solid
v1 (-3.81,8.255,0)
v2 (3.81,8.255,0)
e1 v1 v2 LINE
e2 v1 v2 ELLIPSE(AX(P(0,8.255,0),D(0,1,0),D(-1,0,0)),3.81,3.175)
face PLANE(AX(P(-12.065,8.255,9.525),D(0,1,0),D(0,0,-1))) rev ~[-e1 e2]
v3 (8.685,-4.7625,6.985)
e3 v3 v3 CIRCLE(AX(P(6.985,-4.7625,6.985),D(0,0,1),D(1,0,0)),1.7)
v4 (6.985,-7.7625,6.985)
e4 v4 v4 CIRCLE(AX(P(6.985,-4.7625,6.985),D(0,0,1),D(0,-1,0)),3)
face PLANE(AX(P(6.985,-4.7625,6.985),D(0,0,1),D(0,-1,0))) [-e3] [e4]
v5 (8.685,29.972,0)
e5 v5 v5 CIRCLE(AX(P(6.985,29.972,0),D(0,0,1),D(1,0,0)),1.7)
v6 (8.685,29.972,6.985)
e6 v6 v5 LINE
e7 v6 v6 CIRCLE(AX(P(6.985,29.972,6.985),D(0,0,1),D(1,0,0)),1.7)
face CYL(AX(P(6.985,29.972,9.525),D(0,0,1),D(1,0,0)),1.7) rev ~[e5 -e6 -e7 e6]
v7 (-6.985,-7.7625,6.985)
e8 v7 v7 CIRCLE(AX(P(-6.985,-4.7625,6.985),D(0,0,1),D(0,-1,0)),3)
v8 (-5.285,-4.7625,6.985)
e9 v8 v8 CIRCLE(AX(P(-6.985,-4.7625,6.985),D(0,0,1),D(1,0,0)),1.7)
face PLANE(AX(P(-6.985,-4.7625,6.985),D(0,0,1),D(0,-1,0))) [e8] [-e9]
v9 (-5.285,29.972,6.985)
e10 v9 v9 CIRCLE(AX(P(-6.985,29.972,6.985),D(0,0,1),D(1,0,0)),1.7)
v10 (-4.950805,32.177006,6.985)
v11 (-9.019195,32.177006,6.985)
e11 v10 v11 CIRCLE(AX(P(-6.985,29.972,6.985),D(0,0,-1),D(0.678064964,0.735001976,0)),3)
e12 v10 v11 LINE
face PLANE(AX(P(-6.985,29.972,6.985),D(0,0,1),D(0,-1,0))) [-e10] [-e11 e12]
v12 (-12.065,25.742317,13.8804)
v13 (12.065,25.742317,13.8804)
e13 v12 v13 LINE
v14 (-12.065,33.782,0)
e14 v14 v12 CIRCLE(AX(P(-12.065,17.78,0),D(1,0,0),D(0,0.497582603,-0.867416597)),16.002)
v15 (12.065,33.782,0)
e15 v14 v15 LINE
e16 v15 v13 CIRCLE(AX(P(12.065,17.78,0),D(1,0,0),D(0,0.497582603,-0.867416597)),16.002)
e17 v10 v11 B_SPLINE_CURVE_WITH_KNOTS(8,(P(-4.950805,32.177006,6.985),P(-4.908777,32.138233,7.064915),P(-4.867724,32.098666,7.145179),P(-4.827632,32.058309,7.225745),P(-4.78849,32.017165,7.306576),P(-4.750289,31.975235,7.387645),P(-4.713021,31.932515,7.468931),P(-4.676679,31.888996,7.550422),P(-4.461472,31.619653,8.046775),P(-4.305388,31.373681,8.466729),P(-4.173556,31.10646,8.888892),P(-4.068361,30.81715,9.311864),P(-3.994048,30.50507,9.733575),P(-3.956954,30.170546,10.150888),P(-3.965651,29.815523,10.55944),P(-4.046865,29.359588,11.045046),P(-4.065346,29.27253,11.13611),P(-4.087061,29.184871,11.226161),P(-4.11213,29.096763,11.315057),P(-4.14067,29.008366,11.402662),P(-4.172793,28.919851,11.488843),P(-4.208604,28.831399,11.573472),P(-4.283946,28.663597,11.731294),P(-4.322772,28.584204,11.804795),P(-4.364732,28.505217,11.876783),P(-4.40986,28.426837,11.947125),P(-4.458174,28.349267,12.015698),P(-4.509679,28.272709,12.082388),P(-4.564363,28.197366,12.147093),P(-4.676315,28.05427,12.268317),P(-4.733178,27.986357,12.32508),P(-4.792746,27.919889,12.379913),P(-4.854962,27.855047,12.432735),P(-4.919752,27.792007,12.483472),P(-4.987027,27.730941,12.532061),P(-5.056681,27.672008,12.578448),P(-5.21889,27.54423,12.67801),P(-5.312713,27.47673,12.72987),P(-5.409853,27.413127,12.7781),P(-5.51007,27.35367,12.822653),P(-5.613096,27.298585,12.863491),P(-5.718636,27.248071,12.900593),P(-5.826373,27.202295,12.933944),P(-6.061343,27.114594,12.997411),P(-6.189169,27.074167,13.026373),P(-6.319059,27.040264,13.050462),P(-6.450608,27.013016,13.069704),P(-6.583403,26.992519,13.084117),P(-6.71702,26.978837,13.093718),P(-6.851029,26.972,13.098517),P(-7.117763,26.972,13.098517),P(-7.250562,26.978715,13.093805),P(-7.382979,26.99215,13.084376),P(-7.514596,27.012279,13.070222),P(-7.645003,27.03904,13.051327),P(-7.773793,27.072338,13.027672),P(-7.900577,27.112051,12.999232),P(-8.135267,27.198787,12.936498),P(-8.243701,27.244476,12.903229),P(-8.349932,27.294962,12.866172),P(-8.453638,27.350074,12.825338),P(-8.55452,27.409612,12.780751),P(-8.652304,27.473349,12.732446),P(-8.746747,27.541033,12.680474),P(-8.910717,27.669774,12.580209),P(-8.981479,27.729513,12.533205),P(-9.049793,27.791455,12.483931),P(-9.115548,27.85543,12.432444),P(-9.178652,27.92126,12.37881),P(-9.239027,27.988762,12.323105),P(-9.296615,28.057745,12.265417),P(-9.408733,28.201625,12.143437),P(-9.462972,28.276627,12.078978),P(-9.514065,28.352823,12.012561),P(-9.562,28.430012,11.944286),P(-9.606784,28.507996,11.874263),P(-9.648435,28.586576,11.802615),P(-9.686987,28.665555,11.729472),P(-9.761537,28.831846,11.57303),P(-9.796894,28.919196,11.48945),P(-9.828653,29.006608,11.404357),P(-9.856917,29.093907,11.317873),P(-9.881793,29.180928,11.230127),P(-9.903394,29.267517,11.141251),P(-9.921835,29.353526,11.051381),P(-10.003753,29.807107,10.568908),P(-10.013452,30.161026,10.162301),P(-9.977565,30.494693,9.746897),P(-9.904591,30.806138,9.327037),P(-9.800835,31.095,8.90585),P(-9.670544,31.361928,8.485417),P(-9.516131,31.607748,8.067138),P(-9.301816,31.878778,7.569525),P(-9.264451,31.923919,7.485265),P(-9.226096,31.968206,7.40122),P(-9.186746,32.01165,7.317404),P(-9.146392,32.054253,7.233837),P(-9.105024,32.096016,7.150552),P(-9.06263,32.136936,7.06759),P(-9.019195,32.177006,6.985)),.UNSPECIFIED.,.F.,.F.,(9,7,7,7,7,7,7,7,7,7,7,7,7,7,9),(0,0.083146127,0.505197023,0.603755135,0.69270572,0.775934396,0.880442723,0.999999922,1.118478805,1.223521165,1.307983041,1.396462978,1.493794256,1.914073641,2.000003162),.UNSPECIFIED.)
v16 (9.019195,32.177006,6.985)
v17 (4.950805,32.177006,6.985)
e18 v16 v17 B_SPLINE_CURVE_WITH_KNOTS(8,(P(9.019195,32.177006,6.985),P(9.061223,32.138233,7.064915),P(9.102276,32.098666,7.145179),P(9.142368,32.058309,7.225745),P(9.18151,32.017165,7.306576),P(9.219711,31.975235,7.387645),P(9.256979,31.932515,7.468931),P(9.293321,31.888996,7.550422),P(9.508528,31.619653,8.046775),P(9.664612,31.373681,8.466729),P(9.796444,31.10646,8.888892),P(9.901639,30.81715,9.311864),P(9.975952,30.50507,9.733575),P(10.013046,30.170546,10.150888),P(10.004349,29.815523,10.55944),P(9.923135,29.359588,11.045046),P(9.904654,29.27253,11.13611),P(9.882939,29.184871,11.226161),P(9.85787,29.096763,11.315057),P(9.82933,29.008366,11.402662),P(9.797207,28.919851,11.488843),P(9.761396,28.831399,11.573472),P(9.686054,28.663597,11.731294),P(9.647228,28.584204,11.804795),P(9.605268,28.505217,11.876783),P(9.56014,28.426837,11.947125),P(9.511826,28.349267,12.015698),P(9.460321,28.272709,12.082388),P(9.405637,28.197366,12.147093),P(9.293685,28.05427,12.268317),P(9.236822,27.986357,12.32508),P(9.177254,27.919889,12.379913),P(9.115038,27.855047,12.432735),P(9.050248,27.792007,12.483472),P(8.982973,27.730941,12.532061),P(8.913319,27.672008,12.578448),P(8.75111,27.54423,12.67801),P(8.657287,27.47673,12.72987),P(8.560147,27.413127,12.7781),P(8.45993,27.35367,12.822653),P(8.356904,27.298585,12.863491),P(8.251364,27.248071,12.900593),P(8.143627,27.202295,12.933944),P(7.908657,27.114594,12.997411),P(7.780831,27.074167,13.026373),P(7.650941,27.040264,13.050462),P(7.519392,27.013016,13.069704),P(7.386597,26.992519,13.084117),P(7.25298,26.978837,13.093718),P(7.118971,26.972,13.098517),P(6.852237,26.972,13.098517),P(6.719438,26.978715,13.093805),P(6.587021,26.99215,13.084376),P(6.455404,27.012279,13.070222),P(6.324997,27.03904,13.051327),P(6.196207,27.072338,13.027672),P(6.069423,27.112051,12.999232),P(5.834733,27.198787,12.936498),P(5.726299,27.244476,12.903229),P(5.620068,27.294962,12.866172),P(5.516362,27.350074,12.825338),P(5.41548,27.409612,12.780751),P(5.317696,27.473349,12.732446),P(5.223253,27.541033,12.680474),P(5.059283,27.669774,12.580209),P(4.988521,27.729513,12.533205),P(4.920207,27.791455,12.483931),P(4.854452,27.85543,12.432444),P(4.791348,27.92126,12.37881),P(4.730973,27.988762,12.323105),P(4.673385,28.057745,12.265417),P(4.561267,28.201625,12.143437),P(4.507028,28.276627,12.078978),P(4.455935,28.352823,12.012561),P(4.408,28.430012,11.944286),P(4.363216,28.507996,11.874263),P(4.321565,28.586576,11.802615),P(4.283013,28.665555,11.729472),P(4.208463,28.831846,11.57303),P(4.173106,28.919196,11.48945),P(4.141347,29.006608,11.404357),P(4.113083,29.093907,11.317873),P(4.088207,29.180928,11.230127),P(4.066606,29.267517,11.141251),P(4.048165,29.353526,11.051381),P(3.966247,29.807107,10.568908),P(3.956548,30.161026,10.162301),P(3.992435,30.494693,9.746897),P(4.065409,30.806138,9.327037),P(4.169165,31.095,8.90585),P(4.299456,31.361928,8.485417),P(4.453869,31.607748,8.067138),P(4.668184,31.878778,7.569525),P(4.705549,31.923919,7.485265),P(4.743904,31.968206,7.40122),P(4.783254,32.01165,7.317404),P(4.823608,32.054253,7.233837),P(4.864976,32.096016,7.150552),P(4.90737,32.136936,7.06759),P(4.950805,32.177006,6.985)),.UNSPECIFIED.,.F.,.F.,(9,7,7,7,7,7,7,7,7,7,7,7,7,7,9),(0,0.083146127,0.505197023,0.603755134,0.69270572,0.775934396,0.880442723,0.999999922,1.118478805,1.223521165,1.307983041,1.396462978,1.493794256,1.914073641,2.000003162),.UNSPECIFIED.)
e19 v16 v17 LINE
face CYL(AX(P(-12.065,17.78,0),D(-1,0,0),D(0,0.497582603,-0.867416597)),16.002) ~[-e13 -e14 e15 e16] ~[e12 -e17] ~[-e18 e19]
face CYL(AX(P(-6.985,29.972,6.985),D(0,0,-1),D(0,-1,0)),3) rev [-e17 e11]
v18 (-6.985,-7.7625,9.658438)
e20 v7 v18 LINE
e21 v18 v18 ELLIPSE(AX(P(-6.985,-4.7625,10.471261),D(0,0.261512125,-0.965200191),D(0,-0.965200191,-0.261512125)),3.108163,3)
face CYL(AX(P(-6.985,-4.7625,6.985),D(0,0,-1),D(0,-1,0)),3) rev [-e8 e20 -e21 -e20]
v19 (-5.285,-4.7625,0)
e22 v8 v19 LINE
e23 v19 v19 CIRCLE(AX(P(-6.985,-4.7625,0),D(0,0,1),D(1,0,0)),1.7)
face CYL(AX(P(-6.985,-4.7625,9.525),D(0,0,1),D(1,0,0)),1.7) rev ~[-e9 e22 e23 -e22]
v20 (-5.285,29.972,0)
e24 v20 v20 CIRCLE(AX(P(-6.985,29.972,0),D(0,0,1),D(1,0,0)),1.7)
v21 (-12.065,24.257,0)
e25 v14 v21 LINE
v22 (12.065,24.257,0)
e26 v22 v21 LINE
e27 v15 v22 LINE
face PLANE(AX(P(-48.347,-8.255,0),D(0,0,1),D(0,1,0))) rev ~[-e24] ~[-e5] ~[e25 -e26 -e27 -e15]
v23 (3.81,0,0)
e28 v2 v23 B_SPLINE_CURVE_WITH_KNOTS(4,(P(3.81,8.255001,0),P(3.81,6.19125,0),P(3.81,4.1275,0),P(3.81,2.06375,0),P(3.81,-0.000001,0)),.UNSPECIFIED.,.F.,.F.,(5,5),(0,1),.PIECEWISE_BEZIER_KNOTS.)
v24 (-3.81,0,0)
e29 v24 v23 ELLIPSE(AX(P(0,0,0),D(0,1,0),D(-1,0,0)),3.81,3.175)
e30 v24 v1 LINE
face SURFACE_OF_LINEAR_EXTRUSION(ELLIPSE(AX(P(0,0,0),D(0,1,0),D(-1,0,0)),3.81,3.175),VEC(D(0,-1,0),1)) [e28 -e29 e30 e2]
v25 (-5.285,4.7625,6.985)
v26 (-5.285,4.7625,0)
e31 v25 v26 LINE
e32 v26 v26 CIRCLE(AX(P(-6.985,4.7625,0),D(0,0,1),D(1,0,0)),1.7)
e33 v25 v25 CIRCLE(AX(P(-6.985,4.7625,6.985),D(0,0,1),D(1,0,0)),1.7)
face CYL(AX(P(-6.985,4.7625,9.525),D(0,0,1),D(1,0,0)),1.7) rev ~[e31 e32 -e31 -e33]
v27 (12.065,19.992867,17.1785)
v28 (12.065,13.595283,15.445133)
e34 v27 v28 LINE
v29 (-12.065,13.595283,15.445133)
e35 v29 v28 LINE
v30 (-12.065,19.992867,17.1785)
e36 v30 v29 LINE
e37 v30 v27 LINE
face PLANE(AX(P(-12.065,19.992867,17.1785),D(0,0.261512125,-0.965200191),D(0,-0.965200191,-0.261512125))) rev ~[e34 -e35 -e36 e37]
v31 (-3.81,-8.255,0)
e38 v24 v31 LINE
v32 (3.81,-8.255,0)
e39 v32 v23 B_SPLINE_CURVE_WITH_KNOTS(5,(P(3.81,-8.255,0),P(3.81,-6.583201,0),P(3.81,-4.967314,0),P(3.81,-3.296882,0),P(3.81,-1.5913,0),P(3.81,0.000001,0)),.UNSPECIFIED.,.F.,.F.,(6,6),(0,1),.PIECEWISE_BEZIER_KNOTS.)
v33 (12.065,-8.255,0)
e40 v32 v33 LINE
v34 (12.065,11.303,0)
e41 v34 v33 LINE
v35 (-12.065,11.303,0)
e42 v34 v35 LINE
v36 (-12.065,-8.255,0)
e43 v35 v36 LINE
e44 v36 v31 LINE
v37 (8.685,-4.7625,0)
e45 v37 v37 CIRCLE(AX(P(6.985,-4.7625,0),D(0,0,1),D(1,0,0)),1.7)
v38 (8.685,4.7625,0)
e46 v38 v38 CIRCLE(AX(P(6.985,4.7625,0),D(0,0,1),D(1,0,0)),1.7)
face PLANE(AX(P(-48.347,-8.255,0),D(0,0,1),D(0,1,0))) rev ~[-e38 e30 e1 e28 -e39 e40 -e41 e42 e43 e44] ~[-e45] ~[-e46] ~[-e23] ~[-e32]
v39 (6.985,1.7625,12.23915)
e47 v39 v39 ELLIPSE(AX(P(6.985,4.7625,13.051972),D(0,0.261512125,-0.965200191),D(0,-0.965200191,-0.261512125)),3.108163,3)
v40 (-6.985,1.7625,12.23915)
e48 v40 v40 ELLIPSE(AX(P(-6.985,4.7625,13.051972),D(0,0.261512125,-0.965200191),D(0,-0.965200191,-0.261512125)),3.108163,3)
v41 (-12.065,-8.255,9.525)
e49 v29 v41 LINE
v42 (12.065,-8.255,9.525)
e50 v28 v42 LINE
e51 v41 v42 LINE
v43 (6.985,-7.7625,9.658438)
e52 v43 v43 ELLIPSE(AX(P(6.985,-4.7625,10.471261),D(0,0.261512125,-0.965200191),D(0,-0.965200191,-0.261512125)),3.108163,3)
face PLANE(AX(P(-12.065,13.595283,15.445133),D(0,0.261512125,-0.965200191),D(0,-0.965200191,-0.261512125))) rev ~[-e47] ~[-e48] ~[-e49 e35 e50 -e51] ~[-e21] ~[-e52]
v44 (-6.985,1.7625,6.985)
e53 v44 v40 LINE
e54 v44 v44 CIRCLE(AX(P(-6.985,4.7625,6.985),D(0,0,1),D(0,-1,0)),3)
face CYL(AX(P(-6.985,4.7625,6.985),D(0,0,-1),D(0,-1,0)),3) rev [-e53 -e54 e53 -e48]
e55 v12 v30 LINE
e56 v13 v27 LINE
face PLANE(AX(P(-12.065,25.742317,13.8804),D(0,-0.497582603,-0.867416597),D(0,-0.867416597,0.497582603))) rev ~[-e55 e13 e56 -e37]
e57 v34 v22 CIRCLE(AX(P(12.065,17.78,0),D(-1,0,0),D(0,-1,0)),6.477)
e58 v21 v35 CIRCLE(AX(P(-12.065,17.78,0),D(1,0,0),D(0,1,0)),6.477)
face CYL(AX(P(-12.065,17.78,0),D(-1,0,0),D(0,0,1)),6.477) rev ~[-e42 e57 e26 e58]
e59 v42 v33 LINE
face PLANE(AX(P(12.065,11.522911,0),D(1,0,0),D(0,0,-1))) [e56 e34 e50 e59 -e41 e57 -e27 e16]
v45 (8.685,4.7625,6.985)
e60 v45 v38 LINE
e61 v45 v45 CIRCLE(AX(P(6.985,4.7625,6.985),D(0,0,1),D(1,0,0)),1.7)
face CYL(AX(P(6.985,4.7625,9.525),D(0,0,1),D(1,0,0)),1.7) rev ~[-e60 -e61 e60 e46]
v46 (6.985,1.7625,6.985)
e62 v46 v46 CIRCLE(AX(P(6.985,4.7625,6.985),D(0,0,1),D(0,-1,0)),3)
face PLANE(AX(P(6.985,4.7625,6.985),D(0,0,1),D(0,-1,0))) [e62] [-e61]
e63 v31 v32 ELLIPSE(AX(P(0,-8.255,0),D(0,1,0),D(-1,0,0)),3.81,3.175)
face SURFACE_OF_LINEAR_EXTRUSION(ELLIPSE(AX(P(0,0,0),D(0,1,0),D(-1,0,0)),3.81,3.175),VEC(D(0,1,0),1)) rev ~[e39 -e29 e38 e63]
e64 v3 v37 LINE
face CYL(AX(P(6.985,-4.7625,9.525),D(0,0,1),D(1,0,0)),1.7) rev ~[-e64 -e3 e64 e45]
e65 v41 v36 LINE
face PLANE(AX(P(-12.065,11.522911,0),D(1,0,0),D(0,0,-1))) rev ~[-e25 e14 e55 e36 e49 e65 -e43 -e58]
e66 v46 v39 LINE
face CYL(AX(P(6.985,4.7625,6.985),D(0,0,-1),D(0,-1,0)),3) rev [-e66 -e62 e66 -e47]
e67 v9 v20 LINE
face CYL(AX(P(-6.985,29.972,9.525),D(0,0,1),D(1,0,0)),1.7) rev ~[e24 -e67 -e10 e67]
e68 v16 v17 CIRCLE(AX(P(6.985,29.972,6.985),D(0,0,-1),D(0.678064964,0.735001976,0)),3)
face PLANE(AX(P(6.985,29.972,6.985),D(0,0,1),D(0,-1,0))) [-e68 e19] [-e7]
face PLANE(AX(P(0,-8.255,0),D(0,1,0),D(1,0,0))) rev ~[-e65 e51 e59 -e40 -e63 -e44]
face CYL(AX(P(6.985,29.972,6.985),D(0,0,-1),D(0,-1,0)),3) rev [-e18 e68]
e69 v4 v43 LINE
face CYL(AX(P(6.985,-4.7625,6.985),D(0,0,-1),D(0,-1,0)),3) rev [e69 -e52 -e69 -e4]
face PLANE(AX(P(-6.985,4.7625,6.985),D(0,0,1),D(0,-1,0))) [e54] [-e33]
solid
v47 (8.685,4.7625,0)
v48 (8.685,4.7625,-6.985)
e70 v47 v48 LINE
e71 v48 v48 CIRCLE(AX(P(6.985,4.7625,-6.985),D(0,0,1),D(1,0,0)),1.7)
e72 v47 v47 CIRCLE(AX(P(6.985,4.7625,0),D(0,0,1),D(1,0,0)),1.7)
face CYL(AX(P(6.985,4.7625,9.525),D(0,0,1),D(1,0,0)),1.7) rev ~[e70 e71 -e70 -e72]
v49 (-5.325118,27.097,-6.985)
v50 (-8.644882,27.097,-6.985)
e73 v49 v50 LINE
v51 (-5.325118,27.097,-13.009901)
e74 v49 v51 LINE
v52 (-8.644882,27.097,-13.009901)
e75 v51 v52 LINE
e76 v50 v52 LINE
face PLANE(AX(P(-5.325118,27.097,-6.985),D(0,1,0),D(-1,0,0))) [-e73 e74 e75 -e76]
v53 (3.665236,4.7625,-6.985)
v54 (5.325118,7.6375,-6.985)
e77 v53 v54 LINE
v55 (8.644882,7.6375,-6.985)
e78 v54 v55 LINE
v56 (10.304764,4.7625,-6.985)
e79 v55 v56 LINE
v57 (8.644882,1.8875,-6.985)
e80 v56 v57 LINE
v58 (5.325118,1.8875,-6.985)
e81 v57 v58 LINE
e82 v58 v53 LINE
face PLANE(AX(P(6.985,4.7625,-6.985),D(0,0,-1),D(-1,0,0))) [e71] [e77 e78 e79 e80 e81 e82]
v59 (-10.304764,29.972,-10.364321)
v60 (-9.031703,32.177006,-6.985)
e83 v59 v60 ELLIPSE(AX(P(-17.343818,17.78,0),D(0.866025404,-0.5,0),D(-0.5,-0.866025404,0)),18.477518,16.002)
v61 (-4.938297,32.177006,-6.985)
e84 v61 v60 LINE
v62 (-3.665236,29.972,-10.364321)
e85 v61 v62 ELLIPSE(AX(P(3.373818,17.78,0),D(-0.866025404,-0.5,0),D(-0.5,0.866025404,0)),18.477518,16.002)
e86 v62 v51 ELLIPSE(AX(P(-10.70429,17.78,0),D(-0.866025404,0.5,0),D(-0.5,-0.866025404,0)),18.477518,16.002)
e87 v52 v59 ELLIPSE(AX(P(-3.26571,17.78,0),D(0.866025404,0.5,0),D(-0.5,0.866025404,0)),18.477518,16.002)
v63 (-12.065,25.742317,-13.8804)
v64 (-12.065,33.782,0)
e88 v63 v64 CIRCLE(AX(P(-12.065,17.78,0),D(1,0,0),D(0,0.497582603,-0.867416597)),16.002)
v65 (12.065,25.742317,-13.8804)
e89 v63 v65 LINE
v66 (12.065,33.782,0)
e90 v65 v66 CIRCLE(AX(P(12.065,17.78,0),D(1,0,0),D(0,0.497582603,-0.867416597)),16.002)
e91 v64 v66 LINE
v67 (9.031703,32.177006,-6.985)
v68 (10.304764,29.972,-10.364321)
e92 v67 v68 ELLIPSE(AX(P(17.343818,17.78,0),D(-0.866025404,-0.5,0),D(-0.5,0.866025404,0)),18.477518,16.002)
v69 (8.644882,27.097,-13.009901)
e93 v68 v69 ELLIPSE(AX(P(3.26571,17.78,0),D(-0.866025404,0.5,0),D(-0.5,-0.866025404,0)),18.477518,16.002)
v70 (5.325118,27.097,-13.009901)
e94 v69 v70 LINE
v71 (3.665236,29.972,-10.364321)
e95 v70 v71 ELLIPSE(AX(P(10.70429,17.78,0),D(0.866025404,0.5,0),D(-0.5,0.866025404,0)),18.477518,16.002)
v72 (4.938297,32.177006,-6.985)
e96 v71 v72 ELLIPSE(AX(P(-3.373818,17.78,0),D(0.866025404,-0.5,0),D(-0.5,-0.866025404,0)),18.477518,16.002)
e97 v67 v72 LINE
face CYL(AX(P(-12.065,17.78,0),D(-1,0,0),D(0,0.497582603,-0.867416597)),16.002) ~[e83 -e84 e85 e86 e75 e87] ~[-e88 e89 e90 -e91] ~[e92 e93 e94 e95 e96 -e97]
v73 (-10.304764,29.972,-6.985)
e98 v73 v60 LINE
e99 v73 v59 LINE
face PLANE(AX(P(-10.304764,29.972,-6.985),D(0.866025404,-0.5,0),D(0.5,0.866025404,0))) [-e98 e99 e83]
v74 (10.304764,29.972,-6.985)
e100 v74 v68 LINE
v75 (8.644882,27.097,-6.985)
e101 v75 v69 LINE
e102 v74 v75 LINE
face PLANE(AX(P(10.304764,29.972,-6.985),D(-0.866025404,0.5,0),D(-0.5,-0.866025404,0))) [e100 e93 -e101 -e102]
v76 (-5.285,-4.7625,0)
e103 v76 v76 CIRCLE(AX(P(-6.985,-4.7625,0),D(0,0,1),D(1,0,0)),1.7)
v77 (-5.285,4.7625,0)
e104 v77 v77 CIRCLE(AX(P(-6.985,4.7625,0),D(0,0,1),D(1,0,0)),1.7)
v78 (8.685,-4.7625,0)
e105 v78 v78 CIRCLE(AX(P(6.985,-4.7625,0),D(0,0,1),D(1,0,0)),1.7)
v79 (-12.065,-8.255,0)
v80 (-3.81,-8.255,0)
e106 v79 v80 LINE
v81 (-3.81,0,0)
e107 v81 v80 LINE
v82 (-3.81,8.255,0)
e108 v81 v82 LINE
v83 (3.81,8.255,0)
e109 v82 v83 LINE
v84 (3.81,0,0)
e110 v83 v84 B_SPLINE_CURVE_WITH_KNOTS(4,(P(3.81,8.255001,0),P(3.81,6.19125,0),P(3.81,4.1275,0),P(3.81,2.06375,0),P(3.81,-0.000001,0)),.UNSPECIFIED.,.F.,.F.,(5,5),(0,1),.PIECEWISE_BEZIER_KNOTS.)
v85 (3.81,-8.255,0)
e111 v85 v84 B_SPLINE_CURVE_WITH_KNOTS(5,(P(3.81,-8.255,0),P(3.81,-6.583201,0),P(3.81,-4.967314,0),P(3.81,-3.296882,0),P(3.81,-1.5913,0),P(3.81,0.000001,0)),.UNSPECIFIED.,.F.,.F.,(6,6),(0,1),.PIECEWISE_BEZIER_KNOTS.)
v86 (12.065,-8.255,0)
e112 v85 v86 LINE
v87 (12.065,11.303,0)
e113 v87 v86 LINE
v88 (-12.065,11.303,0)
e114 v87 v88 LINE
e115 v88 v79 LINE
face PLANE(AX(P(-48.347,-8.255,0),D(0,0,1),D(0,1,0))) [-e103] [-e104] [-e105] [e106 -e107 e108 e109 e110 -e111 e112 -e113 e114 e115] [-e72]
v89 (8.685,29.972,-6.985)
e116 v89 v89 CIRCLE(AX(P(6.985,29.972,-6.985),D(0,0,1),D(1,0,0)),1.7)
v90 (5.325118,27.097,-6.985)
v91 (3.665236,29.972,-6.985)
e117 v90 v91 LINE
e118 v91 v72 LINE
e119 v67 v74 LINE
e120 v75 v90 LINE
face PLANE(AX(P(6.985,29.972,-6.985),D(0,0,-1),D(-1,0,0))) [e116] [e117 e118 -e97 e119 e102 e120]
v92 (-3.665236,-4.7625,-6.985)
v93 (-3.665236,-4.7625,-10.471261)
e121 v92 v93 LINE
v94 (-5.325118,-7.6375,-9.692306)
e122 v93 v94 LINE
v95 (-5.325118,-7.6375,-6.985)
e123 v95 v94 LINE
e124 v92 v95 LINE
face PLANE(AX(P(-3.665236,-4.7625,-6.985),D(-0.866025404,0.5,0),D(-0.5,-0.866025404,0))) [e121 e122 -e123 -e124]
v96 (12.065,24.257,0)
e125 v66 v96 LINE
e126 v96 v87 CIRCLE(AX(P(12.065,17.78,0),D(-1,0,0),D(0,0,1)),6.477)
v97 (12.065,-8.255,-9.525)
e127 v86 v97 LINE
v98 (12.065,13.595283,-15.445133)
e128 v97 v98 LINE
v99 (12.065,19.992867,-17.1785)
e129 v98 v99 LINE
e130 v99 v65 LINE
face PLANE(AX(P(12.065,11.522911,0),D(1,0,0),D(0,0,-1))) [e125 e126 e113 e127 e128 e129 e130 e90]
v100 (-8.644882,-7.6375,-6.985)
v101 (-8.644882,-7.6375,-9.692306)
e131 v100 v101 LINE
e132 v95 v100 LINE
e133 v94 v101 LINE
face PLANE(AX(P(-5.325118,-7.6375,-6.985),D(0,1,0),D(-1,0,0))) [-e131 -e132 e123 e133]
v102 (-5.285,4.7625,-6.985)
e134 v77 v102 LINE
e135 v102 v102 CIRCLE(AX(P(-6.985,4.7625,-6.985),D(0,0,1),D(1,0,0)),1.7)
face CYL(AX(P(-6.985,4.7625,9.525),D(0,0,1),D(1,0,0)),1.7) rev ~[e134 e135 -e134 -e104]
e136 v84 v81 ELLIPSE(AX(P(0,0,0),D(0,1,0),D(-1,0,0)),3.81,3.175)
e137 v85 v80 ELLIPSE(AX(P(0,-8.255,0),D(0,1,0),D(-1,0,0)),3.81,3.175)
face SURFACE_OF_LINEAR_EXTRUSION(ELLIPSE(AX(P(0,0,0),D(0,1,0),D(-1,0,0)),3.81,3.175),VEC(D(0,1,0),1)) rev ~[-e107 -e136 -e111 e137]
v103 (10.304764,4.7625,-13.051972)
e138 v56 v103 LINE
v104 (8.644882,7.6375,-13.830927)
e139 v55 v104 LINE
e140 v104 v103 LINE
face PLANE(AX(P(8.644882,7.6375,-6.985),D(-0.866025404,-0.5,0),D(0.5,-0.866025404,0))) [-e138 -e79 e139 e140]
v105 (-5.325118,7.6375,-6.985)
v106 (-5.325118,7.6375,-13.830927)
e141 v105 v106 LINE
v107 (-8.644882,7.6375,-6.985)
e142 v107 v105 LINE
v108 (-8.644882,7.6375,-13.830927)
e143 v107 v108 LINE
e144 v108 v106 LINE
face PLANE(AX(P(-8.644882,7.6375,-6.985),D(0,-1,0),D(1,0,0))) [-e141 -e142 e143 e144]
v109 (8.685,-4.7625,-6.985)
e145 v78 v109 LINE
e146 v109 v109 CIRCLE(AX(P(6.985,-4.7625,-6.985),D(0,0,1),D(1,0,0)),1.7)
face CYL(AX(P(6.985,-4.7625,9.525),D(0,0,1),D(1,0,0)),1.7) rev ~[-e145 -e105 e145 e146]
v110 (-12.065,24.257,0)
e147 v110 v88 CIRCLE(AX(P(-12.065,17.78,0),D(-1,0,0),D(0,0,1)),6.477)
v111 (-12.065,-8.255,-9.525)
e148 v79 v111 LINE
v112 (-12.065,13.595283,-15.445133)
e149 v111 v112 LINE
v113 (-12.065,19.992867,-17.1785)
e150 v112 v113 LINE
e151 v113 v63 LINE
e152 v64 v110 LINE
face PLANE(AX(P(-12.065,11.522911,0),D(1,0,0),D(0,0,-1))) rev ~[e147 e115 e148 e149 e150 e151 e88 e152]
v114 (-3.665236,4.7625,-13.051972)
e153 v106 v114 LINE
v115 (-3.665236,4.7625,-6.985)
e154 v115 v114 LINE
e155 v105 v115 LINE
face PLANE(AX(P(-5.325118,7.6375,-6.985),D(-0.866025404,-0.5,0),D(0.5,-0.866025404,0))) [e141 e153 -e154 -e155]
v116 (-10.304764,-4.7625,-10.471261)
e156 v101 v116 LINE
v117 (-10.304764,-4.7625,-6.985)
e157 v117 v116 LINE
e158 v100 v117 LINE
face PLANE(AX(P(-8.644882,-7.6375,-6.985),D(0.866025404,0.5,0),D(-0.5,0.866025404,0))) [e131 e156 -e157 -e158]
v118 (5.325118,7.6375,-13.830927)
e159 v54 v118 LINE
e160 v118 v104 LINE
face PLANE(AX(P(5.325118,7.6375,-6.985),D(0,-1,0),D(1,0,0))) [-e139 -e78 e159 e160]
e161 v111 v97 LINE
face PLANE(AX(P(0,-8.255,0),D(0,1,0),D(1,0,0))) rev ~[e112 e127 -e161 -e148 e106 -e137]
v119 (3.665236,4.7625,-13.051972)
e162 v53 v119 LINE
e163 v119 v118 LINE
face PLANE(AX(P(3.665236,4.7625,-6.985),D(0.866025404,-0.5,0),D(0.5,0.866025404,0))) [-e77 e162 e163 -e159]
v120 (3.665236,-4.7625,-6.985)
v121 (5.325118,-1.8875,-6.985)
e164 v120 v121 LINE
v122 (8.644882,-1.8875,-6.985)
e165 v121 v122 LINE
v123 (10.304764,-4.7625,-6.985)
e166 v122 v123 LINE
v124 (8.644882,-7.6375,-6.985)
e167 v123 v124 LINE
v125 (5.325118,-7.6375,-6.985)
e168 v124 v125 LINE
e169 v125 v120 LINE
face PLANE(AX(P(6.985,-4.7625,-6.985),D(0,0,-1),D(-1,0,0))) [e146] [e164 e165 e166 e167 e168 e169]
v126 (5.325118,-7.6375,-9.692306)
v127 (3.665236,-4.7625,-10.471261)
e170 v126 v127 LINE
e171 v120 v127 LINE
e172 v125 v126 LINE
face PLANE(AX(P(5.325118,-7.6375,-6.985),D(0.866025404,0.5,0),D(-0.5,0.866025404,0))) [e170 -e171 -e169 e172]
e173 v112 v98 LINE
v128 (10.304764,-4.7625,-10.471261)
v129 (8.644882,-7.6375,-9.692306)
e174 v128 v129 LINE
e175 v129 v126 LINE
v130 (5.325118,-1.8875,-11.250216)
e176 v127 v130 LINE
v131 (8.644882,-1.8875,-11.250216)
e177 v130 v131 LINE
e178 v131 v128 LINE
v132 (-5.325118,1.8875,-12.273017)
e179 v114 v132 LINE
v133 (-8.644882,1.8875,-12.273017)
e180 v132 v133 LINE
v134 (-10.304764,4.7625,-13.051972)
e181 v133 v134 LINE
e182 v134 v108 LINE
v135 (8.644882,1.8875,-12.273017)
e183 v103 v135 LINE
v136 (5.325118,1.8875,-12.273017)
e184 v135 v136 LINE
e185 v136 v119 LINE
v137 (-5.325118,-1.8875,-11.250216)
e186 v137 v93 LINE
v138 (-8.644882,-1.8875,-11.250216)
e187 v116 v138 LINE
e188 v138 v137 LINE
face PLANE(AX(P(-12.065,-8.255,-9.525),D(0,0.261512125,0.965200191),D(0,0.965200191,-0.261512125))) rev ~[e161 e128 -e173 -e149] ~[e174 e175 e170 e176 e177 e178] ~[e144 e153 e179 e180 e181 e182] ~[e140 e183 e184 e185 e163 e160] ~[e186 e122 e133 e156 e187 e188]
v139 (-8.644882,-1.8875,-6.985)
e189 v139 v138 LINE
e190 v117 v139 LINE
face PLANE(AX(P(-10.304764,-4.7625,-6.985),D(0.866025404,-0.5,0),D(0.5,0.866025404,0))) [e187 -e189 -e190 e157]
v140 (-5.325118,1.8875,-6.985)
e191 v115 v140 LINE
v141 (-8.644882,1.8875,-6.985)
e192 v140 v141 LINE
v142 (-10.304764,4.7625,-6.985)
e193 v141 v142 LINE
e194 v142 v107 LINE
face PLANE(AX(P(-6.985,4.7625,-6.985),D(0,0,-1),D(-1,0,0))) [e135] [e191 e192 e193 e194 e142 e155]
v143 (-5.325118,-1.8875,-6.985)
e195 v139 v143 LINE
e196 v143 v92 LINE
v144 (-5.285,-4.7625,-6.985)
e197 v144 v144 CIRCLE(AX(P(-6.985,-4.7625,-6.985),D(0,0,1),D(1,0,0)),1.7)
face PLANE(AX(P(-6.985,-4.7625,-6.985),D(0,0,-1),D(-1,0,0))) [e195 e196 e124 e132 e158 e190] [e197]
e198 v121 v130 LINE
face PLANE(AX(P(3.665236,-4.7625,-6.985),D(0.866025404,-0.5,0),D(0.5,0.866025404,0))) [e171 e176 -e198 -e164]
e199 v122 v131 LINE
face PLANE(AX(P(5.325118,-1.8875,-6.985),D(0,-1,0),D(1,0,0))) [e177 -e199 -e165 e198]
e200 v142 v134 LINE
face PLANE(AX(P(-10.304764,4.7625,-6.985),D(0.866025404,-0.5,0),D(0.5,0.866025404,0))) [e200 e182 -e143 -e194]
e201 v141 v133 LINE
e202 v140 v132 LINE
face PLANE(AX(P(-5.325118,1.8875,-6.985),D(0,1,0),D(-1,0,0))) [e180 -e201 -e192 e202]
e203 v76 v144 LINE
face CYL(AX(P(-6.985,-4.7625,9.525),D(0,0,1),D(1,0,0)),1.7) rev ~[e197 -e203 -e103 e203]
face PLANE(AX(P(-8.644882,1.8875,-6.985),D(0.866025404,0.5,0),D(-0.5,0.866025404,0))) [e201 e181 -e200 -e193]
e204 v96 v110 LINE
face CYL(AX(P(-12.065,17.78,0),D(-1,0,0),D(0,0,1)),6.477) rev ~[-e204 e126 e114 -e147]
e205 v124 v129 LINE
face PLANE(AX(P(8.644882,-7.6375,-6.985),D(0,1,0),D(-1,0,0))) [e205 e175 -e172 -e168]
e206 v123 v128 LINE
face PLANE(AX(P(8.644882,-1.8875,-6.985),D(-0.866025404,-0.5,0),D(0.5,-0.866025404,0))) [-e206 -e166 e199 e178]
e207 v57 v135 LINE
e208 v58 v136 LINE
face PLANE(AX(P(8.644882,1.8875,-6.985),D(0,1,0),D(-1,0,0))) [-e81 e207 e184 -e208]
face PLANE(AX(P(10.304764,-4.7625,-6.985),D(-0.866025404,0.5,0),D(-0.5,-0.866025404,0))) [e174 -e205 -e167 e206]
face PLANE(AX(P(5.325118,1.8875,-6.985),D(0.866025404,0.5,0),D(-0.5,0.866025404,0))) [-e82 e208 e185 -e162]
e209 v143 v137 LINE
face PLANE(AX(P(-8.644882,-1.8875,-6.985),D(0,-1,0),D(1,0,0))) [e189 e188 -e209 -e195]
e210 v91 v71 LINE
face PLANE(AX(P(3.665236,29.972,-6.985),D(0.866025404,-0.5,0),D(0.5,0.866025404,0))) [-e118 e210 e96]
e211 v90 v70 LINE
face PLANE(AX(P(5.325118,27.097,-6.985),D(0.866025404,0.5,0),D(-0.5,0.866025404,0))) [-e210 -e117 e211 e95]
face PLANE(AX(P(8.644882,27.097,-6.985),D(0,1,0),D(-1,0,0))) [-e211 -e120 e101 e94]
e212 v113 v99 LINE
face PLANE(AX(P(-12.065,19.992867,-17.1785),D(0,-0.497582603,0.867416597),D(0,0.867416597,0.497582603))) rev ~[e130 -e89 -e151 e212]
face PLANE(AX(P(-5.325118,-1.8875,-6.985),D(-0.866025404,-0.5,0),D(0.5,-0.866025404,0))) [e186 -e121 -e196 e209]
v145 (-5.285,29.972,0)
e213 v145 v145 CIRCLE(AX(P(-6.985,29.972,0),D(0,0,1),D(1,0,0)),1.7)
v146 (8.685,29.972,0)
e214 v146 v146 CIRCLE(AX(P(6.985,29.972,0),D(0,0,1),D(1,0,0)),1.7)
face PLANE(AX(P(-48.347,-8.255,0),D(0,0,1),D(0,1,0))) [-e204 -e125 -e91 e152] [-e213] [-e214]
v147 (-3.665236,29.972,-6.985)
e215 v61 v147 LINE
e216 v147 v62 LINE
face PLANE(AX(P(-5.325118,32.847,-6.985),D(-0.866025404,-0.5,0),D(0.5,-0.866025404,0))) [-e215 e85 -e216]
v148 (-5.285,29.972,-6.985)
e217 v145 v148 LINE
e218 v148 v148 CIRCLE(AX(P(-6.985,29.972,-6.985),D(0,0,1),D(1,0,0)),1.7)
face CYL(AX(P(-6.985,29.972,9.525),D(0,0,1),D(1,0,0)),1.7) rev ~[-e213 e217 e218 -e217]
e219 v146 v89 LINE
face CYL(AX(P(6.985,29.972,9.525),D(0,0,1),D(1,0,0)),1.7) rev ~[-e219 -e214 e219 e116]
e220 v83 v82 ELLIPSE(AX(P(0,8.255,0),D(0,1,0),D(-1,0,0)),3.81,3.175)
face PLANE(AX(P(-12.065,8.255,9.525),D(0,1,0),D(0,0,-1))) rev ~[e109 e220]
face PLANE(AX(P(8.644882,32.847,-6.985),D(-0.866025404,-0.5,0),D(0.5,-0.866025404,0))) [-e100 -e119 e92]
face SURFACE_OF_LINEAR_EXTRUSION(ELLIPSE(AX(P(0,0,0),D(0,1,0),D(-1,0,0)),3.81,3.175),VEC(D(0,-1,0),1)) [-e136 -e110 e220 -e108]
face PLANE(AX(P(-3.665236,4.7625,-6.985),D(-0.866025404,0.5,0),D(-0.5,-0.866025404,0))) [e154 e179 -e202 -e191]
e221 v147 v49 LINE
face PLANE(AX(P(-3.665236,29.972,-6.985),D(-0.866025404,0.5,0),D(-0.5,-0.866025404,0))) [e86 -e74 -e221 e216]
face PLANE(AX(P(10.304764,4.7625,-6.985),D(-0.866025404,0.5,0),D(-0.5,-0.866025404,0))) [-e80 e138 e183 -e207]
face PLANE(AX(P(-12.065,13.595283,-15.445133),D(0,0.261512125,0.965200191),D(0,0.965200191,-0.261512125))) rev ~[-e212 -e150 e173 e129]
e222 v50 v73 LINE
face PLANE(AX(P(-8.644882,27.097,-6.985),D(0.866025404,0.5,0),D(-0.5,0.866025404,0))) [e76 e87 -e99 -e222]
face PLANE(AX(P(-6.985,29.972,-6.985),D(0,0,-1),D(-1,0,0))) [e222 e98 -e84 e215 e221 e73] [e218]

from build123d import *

# Parameters (mm, degrees)
SKETCH1_W              = 24.13
SKETCH1_H              = 19.05
SKETCH1_RX             = 3.81
SKETCH1_RY             = 3.175
BOSS_EXTRUDE1_DEPTH    = 8.255
SKETCH18_R             = 6.477
BOSS_EXTRUDE6_DEPTH    = 24.13
SKETCH4_R              = 1.7
CUT_EXTRUDE1_DEPTH     = 45.719846392
CUT_EXTRUDE4_START     = -2.54
SKETCH13_R             = 2.999999969
CUT_EXTRUDE4_DEPTH     = 48.259846392
CUT_EXTRUDE6_START     = -2.54
CUT_EXTRUDE6_DEPTH     = 48.259846392
SPLIT1_SURFACE_1_BACK  = 60.412
SPLIT1_SURFACE_1_DEPTH = 120.824
SPLIT1_SURFACE_2_BACK  = 60.412
SPLIT1_SURFACE_2_DEPTH = 120.824


with BuildPart() as part:
    # Sketch1 → Boss-Extrude1 (new, symmetric)
    with BuildSketch(Plane(origin=(0, 0, 0), x_dir=(1, 0, 0), z_dir=(0, 1, 0))):
        Rectangle(SKETCH1_W, SKETCH1_H)
        with Locations(Location((0, 0), (0, 0, 180))):
            Ellipse(SKETCH1_RX, SKETCH1_RY, mode=Mode.SUBTRACT)
    extrude(amount=BOSS_EXTRUDE1_DEPTH, both=True)

    # Sketch18 → Boss-Extrude6 (add)
    with BuildSketch(Plane.ZY.offset(12.065)):
        with BuildLine():
            Line((15.445133453, 13.595282971), (9.525, -8.255))
            Line((9.525, -8.255), (9.525, 8.255))
            Line((9.525, 8.255), (-9.525, 8.255))
            Line((-9.525, 8.255), (-9.525, -8.255))
            Line((-9.525, -8.255), (-15.445133453, 13.595282971))
            Line((-15.445133453, 13.595282971), (-17.178500001, 19.99286672))
            Line((-17.178500001, 19.99286672), (-13.88040039, 25.742316812))
            ThreePointArc((-13.88040039, 25.742316812), (0, 33.782), (13.88040039, 25.742316812))
            Line((13.88040039, 25.742316812), (17.178500001, 19.99286672))
            Line((17.178500001, 19.99286672), (15.445133453, 13.595282971))
        make_face()
        with Locations((0, 17.78)):
            Circle(SKETCH18_R, mode=Mode.SUBTRACT)
    extrude(amount=-BOSS_EXTRUDE6_DEPTH)

    # Sketch4 → Cut-Extrude1 (cut, through all)
    with BuildSketch(Plane.XY.offset(9.525)):
        with Locations((-6.985, 4.7625)):
            Circle(SKETCH4_R)
    cut_extrude1 = extrude(amount=-CUT_EXTRUDE1_DEPTH, mode=Mode.SUBTRACT)

    # Sketch13 → Cut-Extrude4 (cut)
    with BuildSketch(Plane.XY.offset(9.525).offset(CUT_EXTRUDE4_START)):
        with Locations(Location((-6.985, 4.7625, 0), (0, 0, 270))):
            Circle(SKETCH13_R)
    cut_extrude4 = extrude(amount=CUT_EXTRUDE4_DEPTH, mode=Mode.SUBTRACT)

    # Sketch19 → Cut-Extrude6 (cut)
    with BuildSketch(Plane(origin=(0, 0, -9.525), x_dir=(-1, 0, 0), z_dir=(0, 0, -1)).offset(CUT_EXTRUDE6_START)):
        Polygon((10.304764007, 4.7625), (8.644882004, 7.637499965), (5.325117996, 7.637499965), (3.665235993, 4.7625), (5.325117996, 1.887500035), (8.644882004, 1.887500035), align=None)
    cut_extrude6 = extrude(amount=CUT_EXTRUDE6_DEPTH, mode=Mode.SUBTRACT)

    # Sketch-Pattern1: Cut-Extrude1, Cut-Extrude4, Cut-Extrude6 at 5 more places
    with Locations((0, -9.525, 0), (13.97, 0, 0), (13.97, -9.525, 0), (13.97, 25.2095, 0), (0, 25.2095, 0)):
        add(cut_extrude1, mode=Mode.SUBTRACT)
        add(cut_extrude4, mode=Mode.SUBTRACT)
        add(cut_extrude6, mode=Mode.SUBTRACT)


with BuildPart() as body_2:
    # Split1: the piece behind the surface
    add(part.part)
    # Split1 surface: a surface, the sketch's curves swept straight by 120.824 mm
    with BuildLine(Plane(origin=(12.065, 0, 0), x_dir=(0, 0, -1), z_dir=(1, 0, 0)).offset(-SPLIT1_SURFACE_1_BACK), mode=Mode.PRIVATE) as split1_surface_1_path:
        Line((0, -8.255), (0, 33.782))
    split1_surface_1 = Shell.extrude(split1_surface_1_path.wire(), (1 * SPLIT1_SURFACE_1_DEPTH, 0 * SPLIT1_SURFACE_1_DEPTH, 0 * SPLIT1_SURFACE_1_DEPTH))
    split(bisect_by=split1_surface_1, keep=Keep.BOTTOM)


with BuildPart() as part_1:
    add(part.part)

    # Split1: split by a surface, the side it looks to stays
    # Split1 surface: a surface, the sketch's curves swept straight by 120.824 mm
    with BuildLine(Plane(origin=(12.065, 0, 0), x_dir=(0, 0, -1), z_dir=(1, 0, 0)).offset(-SPLIT1_SURFACE_2_BACK), mode=Mode.PRIVATE) as split1_surface_2_path:
        Line((0, -8.255), (0, 33.782))
    split1_surface_2 = Shell.extrude(split1_surface_2_path.wire(), (1 * SPLIT1_SURFACE_2_DEPTH, 0 * SPLIT1_SURFACE_2_DEPTH, 0 * SPLIT1_SURFACE_2_DEPTH))
    split(bisect_by=split1_surface_2, keep=Keep.TOP)


solid = Compound([body_2.part, part_1.part])
